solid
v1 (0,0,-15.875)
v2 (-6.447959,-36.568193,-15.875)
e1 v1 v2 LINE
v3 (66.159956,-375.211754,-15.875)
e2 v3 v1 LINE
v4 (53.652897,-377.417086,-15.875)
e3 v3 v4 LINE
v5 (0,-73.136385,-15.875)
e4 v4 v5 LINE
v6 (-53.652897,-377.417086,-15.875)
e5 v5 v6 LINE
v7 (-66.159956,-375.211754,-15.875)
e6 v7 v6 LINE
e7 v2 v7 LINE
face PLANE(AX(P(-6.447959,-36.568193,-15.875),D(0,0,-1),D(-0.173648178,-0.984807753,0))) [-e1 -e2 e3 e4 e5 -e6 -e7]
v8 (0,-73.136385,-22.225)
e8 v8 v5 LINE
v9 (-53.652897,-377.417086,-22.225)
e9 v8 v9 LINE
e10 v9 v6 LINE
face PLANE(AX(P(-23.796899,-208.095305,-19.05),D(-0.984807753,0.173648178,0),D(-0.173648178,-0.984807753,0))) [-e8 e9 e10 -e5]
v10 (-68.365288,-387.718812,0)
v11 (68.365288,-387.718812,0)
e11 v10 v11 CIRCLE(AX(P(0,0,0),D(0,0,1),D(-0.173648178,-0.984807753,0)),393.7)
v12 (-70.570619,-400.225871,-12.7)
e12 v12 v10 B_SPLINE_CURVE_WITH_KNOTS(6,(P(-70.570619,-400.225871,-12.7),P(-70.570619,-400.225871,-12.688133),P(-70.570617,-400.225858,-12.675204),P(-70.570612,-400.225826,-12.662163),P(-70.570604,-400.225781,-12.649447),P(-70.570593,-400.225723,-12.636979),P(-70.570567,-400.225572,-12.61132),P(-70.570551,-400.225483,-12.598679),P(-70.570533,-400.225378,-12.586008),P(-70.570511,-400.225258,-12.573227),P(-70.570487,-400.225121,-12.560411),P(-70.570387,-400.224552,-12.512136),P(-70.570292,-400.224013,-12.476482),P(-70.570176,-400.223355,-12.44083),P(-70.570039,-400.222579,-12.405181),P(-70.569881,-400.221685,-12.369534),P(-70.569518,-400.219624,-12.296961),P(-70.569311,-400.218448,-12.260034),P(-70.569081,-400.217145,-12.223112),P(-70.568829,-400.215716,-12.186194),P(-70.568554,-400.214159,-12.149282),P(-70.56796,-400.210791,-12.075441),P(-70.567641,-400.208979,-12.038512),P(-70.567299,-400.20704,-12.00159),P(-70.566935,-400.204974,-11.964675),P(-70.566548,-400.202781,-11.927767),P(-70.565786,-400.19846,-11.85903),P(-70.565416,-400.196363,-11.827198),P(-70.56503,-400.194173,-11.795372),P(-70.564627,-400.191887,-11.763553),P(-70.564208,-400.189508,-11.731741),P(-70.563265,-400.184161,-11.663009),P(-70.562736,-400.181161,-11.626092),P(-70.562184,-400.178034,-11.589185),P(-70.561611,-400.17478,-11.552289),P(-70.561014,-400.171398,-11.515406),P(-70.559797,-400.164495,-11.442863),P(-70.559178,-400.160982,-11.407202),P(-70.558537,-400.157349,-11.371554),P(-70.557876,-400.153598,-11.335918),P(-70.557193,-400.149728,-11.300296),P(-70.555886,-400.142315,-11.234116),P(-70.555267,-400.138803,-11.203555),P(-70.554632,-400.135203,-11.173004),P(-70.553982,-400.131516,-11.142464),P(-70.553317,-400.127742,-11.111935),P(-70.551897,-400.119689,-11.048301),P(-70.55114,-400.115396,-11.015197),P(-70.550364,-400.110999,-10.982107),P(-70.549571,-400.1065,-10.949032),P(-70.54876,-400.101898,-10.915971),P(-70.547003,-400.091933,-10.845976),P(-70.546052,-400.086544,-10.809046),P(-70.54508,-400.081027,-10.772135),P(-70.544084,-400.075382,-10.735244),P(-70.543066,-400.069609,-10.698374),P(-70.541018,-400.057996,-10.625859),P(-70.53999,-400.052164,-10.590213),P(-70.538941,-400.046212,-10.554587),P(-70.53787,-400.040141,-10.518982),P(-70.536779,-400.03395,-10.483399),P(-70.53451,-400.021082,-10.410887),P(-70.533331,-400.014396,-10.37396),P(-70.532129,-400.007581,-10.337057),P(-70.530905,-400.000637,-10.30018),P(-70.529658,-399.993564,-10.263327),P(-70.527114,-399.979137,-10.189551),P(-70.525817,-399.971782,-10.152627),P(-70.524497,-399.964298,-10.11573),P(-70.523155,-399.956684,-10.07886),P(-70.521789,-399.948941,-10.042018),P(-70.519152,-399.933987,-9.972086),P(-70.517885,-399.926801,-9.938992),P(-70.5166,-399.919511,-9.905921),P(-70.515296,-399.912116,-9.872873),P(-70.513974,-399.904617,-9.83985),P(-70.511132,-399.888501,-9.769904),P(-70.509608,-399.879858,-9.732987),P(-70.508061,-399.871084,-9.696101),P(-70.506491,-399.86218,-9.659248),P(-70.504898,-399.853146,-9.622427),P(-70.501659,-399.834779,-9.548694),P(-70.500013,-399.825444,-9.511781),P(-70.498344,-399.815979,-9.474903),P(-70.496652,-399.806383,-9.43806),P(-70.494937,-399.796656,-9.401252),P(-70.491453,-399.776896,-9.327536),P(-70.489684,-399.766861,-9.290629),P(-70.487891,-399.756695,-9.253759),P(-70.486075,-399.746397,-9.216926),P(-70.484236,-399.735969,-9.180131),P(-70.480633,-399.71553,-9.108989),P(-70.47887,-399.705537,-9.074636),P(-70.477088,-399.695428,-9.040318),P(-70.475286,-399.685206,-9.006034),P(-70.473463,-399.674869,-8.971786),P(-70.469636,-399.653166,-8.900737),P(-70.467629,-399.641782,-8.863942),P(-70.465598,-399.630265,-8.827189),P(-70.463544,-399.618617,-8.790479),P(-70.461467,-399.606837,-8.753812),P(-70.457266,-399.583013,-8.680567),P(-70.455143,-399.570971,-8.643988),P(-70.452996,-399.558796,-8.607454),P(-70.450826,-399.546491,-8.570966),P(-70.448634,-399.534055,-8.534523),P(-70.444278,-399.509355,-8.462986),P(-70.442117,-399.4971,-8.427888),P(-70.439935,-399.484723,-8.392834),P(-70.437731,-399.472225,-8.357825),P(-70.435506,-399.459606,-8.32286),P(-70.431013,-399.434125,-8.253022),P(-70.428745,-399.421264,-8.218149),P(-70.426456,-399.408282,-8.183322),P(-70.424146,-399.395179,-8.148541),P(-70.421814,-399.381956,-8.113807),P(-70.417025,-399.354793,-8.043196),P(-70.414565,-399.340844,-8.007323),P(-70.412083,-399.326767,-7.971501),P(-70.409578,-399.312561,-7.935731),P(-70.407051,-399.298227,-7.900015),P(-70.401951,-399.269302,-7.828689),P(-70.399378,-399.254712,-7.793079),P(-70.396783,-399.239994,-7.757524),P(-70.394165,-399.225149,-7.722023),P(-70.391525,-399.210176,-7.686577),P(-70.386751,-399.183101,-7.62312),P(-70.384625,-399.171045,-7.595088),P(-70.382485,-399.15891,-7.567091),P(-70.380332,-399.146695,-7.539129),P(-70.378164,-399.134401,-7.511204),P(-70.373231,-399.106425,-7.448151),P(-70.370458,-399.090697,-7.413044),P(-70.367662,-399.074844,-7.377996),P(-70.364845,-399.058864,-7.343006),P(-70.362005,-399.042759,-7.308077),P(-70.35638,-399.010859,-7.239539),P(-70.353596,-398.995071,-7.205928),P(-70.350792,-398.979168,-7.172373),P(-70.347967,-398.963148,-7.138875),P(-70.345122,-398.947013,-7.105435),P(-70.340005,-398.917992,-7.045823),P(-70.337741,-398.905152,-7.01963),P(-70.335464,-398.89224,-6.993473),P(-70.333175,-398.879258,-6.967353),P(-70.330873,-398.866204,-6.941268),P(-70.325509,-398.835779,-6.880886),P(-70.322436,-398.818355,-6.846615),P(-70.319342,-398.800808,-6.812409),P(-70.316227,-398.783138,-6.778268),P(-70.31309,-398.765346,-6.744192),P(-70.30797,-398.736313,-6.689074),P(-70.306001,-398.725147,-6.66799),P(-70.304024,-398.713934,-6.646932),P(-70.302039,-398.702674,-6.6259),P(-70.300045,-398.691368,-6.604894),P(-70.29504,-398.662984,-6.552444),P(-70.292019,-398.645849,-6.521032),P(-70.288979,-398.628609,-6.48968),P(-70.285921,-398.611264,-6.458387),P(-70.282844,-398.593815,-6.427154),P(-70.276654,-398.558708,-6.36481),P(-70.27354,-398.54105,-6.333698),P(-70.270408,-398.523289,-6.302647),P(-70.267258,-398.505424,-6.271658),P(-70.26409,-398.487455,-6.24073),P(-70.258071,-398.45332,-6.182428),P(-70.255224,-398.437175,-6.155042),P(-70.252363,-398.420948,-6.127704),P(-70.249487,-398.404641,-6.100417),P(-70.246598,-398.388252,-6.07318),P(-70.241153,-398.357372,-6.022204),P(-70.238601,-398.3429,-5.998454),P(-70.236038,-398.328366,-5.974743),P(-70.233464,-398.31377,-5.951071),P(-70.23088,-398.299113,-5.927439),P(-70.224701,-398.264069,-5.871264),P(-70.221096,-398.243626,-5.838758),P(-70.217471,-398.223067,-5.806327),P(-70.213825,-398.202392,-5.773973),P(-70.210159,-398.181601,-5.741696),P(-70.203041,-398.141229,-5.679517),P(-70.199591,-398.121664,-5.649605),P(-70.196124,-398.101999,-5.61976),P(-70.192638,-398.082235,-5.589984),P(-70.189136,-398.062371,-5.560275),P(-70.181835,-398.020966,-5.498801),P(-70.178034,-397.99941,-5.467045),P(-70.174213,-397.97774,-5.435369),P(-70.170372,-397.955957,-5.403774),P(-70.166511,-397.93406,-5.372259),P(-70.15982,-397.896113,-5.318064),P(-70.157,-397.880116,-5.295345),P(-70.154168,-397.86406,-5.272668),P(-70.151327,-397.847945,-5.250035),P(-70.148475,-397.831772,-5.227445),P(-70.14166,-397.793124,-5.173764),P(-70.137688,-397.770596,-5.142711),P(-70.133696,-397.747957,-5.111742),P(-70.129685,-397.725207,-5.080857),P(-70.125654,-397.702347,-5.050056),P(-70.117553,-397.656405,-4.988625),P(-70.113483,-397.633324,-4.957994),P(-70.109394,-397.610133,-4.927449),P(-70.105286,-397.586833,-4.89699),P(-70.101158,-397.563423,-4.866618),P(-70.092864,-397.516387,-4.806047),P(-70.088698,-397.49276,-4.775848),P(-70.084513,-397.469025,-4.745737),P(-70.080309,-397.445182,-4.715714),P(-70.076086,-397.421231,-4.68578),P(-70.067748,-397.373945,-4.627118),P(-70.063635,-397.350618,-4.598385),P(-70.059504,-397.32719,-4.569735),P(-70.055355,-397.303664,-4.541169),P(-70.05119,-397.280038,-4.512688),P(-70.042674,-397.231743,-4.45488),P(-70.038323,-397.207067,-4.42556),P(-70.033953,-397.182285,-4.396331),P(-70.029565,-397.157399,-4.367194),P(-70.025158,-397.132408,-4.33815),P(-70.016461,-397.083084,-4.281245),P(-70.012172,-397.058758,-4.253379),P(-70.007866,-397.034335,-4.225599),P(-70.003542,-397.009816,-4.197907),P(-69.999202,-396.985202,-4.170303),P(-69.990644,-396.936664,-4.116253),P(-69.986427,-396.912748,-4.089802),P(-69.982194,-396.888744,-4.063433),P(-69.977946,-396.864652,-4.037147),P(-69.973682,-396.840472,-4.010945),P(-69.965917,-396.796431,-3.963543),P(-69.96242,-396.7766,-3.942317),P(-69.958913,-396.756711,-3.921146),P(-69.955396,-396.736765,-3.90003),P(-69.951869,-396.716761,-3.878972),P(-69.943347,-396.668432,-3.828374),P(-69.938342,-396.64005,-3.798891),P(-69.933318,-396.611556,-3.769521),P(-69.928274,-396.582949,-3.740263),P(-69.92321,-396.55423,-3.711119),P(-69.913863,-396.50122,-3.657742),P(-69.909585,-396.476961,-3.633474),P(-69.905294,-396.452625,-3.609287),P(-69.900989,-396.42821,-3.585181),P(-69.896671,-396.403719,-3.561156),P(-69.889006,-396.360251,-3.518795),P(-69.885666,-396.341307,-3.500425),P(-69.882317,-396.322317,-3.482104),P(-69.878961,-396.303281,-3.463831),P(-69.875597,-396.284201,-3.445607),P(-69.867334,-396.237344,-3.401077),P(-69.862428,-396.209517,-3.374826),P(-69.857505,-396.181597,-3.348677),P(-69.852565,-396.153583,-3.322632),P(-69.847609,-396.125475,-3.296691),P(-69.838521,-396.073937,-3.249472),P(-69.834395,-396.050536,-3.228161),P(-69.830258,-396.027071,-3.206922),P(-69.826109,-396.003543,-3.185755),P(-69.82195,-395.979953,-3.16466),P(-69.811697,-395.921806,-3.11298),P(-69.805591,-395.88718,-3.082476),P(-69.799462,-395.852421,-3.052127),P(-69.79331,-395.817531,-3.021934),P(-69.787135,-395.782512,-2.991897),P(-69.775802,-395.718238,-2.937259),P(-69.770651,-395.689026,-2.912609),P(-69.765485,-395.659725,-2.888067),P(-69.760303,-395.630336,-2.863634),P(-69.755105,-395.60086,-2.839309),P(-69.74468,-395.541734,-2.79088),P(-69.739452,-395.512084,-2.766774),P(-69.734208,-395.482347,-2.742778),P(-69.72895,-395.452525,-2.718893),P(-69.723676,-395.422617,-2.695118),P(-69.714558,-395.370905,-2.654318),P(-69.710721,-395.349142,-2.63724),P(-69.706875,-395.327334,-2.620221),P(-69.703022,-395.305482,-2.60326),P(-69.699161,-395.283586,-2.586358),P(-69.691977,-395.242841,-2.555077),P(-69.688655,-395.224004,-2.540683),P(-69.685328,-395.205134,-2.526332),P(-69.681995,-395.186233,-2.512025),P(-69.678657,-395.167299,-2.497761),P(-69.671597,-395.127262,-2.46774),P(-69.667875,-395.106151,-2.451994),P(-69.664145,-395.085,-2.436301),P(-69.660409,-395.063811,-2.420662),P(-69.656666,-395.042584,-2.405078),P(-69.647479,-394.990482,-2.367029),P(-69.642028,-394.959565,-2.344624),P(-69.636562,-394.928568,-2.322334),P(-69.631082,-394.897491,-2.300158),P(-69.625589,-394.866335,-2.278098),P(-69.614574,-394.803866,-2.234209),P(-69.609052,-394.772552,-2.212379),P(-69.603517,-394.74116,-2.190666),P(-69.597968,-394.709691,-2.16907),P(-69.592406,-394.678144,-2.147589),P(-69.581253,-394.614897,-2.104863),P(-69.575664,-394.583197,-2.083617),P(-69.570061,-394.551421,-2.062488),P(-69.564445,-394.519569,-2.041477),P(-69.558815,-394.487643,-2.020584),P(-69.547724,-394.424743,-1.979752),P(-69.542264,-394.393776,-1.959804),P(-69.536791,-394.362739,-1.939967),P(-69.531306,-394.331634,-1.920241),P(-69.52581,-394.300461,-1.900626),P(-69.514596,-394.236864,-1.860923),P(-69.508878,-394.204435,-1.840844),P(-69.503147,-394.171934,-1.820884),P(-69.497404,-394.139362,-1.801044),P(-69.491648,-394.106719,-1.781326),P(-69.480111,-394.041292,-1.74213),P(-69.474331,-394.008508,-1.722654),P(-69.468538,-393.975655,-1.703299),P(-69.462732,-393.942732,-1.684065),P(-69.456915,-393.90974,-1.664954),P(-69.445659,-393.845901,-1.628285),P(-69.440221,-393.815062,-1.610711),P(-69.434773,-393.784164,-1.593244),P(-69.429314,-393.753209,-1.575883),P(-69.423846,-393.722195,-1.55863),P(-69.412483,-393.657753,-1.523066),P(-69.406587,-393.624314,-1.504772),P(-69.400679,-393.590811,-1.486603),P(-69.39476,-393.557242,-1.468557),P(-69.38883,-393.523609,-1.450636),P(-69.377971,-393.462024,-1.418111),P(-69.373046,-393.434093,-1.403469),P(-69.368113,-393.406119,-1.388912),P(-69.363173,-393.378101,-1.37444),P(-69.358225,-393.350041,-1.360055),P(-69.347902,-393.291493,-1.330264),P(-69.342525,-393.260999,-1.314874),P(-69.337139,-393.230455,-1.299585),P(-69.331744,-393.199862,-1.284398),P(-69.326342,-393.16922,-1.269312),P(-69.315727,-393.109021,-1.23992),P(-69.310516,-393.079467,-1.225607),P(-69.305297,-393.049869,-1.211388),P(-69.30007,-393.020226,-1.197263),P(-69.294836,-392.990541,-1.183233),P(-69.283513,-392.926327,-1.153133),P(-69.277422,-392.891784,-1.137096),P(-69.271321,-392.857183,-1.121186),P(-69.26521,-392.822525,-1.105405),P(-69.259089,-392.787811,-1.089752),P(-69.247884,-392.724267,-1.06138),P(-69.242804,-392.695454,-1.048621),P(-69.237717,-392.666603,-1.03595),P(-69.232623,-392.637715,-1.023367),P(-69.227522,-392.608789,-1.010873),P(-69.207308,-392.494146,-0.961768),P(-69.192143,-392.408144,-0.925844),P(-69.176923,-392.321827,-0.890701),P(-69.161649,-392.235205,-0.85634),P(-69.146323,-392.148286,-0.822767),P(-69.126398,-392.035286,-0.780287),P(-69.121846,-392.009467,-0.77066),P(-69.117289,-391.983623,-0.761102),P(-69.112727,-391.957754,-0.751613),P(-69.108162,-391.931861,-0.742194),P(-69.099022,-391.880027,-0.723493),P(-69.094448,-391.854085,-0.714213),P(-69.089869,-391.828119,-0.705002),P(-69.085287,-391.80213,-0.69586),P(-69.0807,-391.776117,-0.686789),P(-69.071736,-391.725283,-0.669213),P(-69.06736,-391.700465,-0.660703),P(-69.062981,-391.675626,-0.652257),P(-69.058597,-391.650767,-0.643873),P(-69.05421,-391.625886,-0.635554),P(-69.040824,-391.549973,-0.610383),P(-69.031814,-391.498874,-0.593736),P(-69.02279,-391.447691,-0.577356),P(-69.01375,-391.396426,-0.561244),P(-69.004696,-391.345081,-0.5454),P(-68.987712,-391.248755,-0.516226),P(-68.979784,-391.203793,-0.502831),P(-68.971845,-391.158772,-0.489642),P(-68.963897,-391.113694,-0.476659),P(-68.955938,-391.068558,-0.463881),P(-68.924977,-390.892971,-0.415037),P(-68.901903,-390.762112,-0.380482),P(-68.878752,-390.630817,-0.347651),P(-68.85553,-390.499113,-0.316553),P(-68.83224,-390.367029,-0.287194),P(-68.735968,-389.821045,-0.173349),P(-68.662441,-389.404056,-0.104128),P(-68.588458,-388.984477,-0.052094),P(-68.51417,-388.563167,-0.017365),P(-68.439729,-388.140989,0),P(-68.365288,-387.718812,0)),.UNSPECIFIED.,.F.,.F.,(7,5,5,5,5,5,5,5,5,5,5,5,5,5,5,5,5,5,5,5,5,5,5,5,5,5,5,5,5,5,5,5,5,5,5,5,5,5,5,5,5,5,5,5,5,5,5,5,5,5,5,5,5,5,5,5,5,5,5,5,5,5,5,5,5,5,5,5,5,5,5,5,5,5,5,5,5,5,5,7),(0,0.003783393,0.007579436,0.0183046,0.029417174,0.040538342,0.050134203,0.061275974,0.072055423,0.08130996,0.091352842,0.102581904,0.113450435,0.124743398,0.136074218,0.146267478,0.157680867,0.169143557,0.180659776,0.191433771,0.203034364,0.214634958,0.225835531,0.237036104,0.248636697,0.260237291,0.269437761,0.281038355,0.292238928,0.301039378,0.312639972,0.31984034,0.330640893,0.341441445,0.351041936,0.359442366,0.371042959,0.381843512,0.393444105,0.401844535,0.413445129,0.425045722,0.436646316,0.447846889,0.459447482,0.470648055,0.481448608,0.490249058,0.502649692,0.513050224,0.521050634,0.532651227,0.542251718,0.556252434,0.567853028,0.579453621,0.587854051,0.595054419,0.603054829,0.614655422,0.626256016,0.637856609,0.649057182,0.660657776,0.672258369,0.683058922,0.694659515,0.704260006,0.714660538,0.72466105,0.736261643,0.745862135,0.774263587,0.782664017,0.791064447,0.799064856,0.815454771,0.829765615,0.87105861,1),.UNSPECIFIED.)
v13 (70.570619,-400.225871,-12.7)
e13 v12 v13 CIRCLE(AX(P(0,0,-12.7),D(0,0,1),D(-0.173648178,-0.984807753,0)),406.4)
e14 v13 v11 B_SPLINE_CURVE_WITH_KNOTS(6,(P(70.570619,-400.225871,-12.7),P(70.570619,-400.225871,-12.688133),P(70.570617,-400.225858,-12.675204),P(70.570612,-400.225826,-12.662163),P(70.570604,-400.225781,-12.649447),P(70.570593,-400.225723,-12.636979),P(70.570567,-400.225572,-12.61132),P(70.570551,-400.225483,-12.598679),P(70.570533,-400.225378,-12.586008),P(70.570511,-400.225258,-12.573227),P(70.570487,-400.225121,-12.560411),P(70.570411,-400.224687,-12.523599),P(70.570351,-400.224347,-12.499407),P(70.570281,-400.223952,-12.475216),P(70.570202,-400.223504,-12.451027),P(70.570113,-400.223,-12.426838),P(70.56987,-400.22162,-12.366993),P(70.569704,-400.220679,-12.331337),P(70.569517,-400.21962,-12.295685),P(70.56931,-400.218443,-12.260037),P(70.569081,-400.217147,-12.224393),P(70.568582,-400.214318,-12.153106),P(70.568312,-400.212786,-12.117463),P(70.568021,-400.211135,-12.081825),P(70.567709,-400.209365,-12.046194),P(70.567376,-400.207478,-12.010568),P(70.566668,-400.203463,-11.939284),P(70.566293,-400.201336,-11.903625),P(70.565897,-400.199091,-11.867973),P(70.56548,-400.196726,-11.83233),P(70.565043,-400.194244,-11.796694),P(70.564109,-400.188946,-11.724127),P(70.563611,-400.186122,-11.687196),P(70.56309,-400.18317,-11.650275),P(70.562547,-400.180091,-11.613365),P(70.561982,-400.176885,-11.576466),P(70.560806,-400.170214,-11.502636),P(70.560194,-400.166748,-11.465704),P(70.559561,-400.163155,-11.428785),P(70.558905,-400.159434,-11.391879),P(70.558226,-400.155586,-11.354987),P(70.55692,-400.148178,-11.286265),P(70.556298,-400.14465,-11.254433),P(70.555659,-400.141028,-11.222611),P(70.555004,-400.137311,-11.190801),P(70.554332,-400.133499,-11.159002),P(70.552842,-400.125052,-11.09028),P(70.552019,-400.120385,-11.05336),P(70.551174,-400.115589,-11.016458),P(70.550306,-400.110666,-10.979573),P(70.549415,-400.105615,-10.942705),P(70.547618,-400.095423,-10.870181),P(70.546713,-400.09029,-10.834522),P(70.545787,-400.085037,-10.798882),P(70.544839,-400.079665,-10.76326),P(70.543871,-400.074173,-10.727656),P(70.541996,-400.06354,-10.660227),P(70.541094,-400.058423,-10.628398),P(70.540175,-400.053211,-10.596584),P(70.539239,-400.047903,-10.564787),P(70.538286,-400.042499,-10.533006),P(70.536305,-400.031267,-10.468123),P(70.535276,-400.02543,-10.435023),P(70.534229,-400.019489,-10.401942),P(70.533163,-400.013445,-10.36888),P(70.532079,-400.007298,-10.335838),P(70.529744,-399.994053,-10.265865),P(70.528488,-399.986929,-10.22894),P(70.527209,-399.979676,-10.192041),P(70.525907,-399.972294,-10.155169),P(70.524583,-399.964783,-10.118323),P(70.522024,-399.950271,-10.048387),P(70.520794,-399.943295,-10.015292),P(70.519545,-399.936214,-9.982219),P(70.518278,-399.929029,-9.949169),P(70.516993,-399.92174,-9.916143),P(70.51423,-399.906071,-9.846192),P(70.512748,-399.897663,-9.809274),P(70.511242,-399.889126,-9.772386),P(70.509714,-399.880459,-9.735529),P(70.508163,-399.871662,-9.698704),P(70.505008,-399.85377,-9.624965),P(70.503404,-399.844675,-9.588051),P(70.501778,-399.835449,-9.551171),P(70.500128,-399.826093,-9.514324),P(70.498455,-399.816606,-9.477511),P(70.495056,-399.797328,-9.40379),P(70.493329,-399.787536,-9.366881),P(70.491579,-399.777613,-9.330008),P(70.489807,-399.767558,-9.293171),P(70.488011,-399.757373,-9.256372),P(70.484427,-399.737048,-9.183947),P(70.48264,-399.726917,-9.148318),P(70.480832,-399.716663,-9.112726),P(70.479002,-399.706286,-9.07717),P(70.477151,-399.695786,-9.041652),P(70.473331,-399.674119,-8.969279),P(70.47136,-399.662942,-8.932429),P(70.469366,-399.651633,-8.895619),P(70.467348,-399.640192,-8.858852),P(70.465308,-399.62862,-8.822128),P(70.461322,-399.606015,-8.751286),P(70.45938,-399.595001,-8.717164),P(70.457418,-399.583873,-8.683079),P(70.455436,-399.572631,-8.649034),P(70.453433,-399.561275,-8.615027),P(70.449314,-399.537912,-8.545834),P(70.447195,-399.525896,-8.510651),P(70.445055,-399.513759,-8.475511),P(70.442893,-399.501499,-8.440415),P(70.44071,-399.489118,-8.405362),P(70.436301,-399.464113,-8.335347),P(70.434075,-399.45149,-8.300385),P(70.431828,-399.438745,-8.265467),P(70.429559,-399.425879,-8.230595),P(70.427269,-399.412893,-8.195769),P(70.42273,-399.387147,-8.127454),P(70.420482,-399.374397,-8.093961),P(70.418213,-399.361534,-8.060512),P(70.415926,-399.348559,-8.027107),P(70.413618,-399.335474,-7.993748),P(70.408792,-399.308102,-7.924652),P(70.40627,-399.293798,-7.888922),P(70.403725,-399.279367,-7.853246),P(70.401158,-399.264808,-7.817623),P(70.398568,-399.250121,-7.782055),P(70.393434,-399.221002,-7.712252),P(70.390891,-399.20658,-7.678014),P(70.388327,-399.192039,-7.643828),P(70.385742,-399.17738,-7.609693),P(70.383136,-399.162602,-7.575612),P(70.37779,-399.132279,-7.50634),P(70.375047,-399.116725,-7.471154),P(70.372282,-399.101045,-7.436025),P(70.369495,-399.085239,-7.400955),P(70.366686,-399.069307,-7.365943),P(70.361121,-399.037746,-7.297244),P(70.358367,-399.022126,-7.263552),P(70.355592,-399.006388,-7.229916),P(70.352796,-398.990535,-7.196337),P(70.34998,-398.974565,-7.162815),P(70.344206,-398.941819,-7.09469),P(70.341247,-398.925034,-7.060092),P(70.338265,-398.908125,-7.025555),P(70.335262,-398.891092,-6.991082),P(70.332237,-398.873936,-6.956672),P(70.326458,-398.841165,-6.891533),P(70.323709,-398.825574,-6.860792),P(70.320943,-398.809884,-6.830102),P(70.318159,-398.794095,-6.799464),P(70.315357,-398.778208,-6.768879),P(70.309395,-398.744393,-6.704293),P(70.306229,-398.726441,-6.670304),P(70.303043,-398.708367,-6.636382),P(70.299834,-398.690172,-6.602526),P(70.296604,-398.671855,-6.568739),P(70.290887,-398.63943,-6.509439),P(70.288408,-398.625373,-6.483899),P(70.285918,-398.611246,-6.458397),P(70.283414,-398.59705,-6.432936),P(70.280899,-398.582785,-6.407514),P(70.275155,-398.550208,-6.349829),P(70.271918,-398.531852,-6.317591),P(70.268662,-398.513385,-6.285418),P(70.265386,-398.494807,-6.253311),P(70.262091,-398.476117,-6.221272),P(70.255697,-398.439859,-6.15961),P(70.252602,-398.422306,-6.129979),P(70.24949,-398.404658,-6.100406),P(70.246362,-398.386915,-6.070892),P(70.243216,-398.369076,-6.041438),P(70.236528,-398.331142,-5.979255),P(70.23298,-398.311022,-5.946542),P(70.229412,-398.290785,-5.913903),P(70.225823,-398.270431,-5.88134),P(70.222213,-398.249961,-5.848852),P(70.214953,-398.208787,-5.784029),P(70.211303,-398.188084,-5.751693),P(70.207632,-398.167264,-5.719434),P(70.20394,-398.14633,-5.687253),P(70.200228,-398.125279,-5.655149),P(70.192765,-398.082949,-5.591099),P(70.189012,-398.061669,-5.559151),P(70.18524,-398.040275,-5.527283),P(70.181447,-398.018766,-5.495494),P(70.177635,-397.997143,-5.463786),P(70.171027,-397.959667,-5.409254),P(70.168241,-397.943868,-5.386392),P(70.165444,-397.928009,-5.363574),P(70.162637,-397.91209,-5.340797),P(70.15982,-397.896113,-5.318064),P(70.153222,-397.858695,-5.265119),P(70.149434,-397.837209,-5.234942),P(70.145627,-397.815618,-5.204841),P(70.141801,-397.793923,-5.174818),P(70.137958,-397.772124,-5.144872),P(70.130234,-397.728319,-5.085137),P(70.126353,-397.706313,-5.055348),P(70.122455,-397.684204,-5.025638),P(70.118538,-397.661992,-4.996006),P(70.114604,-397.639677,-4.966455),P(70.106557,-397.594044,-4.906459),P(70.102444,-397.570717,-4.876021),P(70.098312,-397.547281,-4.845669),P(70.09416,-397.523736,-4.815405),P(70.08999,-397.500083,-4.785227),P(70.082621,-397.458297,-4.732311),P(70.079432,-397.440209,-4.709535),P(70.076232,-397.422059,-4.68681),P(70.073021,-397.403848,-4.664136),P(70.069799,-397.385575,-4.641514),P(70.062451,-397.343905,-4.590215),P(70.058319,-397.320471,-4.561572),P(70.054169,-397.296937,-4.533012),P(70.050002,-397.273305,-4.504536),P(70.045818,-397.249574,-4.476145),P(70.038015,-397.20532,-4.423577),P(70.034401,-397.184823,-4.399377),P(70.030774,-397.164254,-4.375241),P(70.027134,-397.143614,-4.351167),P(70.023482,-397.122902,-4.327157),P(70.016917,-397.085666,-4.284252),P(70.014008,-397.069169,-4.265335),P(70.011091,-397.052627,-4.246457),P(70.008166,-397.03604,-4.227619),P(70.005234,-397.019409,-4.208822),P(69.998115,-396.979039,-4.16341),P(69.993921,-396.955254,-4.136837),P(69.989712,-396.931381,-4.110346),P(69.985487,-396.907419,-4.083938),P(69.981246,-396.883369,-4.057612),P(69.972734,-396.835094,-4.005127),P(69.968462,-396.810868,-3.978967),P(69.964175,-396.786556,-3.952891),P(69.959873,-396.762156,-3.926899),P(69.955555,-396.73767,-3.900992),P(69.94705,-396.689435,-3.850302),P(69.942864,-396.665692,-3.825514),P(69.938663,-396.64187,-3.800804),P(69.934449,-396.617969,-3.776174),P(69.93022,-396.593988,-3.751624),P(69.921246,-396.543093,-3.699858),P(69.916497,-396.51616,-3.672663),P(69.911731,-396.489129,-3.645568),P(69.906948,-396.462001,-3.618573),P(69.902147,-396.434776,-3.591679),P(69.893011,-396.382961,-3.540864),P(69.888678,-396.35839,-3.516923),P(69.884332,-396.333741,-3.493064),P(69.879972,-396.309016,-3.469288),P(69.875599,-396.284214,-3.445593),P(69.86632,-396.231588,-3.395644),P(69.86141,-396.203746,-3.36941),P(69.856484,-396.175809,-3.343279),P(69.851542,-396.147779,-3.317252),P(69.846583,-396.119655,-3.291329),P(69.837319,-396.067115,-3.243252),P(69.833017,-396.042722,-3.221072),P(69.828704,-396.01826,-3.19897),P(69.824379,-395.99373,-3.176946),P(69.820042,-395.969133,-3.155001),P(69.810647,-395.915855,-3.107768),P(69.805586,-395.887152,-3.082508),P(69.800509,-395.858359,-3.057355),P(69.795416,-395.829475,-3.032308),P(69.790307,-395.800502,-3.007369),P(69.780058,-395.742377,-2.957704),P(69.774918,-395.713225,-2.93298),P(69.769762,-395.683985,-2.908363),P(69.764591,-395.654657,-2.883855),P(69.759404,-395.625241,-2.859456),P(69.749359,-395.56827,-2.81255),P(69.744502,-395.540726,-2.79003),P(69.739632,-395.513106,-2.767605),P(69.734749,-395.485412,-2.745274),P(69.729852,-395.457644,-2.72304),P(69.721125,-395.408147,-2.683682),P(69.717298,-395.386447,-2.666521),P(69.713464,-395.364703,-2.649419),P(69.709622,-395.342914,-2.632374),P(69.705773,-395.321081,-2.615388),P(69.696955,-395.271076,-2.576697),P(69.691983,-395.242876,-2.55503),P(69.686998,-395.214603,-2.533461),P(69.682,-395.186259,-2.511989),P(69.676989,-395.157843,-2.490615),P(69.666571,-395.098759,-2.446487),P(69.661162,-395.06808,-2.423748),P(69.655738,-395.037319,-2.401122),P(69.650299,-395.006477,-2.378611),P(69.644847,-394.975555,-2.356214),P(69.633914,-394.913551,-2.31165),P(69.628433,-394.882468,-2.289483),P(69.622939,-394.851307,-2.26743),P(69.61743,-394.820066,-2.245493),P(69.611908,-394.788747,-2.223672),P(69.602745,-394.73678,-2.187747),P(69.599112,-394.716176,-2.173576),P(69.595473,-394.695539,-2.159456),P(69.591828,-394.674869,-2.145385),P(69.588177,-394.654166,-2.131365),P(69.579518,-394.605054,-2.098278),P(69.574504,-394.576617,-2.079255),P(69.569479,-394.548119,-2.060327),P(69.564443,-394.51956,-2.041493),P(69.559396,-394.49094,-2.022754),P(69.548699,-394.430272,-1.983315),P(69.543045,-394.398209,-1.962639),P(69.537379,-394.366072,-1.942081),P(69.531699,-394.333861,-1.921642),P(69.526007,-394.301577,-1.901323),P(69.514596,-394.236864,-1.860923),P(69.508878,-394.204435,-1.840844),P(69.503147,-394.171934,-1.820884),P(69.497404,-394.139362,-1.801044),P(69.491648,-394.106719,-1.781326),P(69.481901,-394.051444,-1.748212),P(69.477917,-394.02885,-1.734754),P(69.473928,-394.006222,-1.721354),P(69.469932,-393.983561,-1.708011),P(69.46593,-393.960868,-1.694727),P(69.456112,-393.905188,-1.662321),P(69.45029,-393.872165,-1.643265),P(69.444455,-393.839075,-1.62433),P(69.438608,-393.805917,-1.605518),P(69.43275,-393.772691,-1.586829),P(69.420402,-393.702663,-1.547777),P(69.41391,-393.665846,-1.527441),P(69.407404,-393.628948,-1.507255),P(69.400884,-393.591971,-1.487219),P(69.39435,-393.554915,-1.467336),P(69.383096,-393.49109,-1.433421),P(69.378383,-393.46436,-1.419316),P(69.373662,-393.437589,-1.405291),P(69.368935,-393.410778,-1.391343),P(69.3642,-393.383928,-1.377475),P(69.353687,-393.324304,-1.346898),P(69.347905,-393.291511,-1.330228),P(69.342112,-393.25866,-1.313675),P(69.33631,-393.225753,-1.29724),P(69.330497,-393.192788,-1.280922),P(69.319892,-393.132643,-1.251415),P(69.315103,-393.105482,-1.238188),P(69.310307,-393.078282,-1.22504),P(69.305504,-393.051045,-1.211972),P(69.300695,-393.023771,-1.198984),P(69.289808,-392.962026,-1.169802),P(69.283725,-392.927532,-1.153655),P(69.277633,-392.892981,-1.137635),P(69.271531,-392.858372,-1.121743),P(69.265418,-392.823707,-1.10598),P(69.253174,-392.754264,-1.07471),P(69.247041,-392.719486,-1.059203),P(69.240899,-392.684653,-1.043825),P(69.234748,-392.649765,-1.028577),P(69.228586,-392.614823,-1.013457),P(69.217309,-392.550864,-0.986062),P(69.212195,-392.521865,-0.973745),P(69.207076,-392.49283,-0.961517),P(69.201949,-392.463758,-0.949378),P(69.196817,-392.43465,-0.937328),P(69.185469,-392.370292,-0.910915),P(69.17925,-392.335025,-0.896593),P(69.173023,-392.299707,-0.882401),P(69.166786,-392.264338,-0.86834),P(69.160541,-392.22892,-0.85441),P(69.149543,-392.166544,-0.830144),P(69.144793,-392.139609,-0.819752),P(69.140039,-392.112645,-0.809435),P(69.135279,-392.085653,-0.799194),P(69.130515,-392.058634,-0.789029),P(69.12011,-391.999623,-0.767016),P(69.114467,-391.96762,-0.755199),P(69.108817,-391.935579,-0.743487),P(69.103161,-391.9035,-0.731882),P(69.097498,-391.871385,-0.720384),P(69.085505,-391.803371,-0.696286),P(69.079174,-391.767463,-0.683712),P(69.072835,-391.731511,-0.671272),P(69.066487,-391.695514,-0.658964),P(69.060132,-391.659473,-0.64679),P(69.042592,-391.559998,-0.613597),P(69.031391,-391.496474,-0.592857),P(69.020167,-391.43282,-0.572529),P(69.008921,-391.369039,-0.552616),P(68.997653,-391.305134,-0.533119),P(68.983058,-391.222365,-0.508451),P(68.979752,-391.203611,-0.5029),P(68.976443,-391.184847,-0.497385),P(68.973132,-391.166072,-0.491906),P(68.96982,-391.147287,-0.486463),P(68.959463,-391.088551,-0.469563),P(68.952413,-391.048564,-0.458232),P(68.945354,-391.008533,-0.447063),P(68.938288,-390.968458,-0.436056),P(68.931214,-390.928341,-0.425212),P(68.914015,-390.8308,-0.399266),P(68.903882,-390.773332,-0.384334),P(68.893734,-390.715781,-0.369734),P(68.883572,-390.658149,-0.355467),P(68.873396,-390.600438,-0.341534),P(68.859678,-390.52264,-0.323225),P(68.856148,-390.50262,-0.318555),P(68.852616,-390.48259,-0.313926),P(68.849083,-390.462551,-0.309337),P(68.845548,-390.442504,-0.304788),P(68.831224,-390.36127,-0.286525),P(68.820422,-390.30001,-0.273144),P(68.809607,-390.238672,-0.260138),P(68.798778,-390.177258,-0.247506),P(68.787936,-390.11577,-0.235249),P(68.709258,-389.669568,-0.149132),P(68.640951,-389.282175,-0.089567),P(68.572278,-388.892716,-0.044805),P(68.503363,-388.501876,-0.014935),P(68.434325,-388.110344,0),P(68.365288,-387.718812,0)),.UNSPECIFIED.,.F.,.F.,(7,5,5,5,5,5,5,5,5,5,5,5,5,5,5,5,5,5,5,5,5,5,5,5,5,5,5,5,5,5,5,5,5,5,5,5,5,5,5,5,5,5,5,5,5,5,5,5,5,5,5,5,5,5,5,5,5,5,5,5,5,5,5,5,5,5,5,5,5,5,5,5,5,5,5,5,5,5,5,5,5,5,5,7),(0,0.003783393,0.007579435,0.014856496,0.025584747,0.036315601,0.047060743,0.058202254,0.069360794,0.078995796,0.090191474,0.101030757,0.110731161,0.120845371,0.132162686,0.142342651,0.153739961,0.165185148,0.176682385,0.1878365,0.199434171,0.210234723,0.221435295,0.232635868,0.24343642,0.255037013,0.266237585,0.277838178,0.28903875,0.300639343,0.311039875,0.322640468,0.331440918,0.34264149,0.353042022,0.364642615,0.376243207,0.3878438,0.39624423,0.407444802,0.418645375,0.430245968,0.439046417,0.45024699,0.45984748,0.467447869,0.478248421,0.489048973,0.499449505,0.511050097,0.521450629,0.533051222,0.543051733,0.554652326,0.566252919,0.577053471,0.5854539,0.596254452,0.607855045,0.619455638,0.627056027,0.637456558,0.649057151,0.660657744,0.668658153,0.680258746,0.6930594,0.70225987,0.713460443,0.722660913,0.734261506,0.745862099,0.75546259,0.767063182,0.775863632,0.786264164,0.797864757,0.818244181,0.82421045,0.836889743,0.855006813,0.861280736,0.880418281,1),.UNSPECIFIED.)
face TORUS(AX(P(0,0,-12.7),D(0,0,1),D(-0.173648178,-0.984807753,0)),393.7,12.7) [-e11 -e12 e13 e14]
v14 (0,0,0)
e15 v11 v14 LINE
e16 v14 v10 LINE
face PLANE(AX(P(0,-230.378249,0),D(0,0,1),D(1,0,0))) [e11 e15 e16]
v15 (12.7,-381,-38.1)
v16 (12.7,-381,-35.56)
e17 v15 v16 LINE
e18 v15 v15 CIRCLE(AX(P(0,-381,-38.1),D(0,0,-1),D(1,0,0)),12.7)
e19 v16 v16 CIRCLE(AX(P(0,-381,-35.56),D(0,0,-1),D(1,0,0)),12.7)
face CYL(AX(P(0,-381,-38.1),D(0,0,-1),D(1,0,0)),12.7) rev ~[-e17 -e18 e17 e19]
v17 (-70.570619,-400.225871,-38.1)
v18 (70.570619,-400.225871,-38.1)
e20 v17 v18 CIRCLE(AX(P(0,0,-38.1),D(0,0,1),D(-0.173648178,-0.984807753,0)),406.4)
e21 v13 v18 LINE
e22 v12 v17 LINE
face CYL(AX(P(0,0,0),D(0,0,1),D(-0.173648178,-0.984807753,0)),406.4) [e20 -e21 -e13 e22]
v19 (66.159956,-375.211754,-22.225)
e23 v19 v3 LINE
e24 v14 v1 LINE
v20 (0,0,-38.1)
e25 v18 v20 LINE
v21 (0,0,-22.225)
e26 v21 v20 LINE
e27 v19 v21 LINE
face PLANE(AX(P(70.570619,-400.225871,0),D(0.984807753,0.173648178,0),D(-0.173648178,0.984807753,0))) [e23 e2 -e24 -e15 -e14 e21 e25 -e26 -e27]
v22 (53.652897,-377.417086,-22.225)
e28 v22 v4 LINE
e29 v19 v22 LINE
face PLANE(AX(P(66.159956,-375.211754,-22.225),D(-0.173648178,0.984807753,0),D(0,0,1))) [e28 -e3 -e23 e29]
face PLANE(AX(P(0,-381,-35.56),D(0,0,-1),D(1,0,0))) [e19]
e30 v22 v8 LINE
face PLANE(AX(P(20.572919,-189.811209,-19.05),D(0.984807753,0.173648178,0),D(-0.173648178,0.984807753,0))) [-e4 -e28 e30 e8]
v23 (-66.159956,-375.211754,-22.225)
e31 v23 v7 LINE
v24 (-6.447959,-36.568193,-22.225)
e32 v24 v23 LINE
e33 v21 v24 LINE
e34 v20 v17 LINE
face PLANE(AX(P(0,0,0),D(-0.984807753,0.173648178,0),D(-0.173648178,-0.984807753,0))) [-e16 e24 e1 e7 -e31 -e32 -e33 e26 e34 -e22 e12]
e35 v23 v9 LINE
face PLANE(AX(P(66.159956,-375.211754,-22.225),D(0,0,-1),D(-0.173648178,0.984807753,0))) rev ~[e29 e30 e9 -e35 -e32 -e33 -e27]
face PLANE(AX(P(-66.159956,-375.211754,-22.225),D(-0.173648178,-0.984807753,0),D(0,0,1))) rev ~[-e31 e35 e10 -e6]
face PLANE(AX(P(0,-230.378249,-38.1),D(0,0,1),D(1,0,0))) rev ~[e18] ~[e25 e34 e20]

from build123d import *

# Parameters (mm, degrees)
F1_DEPTH = 38.1
F2_R     = 12.7
F3_W     = 381
F3_H     = 6.35
F4_DEPTH = 12.7
F5_W     = 343.8676841179
F5_H     = 6.35
F6_DEPTH = 12.7
F7_R     = 12.7
F8_DEPTH = 2.54


with BuildPart() as f1:
    # F0 (on Top) → F1 (new body)
    with BuildSketch(Plane.XY):
        with BuildLine():
            Line((0, 0), (-70.5706194038, -400.2258708242))
            ThreePointArc((-70.5706194038, -400.2258708242), (0, -406.4), (70.5706194038, -400.2258708242))
            Line((70.5706194038, -400.2258708242), (0, 0))
        make_face()
    extrude(amount=-F1_DEPTH)

    # F2
    f2_edges = [f1.edges().sort_by_distance(p)[0] for p in [
        (0, -406.4, 0),
    ]]
    fillet(f2_edges, radius=F2_R)

    # F3 (on face) → F4 (cut)
    with BuildSketch(Plane(origin=(0, 0, 0), x_dir=(-0.1736481777, 0.984807753, 0), z_dir=(0.984807753, 0.1736481777, 0))):
        with Locations((-190.5, -19.05)):
            Rectangle(F3_W, F3_H)
    extrude(amount=-F4_DEPTH, mode=Mode.SUBTRACT)

    # F5 (on face) → F6 (cut)
    with BuildSketch(Plane(origin=(0, 0, 0), x_dir=(-0.1736481777, -0.984807753, 0), z_dir=(-0.984807753, 0.1736481777, 0))):
        with Locations((209.066157941, -19.05)):
            Rectangle(F5_W, F5_H)
    extrude(amount=-F6_DEPTH, mode=Mode.SUBTRACT)

    # F7 (on face) → F8 (cut)
    with BuildSketch(Plane(origin=(0, 0, -38.1), x_dir=(1, 0, 0), z_dir=(0, 0, -1))):
        with Locations((0, 381)):
            Circle(F7_R)
    extrude(amount=-F8_DEPTH, mode=Mode.SUBTRACT)


solid = f1.part
